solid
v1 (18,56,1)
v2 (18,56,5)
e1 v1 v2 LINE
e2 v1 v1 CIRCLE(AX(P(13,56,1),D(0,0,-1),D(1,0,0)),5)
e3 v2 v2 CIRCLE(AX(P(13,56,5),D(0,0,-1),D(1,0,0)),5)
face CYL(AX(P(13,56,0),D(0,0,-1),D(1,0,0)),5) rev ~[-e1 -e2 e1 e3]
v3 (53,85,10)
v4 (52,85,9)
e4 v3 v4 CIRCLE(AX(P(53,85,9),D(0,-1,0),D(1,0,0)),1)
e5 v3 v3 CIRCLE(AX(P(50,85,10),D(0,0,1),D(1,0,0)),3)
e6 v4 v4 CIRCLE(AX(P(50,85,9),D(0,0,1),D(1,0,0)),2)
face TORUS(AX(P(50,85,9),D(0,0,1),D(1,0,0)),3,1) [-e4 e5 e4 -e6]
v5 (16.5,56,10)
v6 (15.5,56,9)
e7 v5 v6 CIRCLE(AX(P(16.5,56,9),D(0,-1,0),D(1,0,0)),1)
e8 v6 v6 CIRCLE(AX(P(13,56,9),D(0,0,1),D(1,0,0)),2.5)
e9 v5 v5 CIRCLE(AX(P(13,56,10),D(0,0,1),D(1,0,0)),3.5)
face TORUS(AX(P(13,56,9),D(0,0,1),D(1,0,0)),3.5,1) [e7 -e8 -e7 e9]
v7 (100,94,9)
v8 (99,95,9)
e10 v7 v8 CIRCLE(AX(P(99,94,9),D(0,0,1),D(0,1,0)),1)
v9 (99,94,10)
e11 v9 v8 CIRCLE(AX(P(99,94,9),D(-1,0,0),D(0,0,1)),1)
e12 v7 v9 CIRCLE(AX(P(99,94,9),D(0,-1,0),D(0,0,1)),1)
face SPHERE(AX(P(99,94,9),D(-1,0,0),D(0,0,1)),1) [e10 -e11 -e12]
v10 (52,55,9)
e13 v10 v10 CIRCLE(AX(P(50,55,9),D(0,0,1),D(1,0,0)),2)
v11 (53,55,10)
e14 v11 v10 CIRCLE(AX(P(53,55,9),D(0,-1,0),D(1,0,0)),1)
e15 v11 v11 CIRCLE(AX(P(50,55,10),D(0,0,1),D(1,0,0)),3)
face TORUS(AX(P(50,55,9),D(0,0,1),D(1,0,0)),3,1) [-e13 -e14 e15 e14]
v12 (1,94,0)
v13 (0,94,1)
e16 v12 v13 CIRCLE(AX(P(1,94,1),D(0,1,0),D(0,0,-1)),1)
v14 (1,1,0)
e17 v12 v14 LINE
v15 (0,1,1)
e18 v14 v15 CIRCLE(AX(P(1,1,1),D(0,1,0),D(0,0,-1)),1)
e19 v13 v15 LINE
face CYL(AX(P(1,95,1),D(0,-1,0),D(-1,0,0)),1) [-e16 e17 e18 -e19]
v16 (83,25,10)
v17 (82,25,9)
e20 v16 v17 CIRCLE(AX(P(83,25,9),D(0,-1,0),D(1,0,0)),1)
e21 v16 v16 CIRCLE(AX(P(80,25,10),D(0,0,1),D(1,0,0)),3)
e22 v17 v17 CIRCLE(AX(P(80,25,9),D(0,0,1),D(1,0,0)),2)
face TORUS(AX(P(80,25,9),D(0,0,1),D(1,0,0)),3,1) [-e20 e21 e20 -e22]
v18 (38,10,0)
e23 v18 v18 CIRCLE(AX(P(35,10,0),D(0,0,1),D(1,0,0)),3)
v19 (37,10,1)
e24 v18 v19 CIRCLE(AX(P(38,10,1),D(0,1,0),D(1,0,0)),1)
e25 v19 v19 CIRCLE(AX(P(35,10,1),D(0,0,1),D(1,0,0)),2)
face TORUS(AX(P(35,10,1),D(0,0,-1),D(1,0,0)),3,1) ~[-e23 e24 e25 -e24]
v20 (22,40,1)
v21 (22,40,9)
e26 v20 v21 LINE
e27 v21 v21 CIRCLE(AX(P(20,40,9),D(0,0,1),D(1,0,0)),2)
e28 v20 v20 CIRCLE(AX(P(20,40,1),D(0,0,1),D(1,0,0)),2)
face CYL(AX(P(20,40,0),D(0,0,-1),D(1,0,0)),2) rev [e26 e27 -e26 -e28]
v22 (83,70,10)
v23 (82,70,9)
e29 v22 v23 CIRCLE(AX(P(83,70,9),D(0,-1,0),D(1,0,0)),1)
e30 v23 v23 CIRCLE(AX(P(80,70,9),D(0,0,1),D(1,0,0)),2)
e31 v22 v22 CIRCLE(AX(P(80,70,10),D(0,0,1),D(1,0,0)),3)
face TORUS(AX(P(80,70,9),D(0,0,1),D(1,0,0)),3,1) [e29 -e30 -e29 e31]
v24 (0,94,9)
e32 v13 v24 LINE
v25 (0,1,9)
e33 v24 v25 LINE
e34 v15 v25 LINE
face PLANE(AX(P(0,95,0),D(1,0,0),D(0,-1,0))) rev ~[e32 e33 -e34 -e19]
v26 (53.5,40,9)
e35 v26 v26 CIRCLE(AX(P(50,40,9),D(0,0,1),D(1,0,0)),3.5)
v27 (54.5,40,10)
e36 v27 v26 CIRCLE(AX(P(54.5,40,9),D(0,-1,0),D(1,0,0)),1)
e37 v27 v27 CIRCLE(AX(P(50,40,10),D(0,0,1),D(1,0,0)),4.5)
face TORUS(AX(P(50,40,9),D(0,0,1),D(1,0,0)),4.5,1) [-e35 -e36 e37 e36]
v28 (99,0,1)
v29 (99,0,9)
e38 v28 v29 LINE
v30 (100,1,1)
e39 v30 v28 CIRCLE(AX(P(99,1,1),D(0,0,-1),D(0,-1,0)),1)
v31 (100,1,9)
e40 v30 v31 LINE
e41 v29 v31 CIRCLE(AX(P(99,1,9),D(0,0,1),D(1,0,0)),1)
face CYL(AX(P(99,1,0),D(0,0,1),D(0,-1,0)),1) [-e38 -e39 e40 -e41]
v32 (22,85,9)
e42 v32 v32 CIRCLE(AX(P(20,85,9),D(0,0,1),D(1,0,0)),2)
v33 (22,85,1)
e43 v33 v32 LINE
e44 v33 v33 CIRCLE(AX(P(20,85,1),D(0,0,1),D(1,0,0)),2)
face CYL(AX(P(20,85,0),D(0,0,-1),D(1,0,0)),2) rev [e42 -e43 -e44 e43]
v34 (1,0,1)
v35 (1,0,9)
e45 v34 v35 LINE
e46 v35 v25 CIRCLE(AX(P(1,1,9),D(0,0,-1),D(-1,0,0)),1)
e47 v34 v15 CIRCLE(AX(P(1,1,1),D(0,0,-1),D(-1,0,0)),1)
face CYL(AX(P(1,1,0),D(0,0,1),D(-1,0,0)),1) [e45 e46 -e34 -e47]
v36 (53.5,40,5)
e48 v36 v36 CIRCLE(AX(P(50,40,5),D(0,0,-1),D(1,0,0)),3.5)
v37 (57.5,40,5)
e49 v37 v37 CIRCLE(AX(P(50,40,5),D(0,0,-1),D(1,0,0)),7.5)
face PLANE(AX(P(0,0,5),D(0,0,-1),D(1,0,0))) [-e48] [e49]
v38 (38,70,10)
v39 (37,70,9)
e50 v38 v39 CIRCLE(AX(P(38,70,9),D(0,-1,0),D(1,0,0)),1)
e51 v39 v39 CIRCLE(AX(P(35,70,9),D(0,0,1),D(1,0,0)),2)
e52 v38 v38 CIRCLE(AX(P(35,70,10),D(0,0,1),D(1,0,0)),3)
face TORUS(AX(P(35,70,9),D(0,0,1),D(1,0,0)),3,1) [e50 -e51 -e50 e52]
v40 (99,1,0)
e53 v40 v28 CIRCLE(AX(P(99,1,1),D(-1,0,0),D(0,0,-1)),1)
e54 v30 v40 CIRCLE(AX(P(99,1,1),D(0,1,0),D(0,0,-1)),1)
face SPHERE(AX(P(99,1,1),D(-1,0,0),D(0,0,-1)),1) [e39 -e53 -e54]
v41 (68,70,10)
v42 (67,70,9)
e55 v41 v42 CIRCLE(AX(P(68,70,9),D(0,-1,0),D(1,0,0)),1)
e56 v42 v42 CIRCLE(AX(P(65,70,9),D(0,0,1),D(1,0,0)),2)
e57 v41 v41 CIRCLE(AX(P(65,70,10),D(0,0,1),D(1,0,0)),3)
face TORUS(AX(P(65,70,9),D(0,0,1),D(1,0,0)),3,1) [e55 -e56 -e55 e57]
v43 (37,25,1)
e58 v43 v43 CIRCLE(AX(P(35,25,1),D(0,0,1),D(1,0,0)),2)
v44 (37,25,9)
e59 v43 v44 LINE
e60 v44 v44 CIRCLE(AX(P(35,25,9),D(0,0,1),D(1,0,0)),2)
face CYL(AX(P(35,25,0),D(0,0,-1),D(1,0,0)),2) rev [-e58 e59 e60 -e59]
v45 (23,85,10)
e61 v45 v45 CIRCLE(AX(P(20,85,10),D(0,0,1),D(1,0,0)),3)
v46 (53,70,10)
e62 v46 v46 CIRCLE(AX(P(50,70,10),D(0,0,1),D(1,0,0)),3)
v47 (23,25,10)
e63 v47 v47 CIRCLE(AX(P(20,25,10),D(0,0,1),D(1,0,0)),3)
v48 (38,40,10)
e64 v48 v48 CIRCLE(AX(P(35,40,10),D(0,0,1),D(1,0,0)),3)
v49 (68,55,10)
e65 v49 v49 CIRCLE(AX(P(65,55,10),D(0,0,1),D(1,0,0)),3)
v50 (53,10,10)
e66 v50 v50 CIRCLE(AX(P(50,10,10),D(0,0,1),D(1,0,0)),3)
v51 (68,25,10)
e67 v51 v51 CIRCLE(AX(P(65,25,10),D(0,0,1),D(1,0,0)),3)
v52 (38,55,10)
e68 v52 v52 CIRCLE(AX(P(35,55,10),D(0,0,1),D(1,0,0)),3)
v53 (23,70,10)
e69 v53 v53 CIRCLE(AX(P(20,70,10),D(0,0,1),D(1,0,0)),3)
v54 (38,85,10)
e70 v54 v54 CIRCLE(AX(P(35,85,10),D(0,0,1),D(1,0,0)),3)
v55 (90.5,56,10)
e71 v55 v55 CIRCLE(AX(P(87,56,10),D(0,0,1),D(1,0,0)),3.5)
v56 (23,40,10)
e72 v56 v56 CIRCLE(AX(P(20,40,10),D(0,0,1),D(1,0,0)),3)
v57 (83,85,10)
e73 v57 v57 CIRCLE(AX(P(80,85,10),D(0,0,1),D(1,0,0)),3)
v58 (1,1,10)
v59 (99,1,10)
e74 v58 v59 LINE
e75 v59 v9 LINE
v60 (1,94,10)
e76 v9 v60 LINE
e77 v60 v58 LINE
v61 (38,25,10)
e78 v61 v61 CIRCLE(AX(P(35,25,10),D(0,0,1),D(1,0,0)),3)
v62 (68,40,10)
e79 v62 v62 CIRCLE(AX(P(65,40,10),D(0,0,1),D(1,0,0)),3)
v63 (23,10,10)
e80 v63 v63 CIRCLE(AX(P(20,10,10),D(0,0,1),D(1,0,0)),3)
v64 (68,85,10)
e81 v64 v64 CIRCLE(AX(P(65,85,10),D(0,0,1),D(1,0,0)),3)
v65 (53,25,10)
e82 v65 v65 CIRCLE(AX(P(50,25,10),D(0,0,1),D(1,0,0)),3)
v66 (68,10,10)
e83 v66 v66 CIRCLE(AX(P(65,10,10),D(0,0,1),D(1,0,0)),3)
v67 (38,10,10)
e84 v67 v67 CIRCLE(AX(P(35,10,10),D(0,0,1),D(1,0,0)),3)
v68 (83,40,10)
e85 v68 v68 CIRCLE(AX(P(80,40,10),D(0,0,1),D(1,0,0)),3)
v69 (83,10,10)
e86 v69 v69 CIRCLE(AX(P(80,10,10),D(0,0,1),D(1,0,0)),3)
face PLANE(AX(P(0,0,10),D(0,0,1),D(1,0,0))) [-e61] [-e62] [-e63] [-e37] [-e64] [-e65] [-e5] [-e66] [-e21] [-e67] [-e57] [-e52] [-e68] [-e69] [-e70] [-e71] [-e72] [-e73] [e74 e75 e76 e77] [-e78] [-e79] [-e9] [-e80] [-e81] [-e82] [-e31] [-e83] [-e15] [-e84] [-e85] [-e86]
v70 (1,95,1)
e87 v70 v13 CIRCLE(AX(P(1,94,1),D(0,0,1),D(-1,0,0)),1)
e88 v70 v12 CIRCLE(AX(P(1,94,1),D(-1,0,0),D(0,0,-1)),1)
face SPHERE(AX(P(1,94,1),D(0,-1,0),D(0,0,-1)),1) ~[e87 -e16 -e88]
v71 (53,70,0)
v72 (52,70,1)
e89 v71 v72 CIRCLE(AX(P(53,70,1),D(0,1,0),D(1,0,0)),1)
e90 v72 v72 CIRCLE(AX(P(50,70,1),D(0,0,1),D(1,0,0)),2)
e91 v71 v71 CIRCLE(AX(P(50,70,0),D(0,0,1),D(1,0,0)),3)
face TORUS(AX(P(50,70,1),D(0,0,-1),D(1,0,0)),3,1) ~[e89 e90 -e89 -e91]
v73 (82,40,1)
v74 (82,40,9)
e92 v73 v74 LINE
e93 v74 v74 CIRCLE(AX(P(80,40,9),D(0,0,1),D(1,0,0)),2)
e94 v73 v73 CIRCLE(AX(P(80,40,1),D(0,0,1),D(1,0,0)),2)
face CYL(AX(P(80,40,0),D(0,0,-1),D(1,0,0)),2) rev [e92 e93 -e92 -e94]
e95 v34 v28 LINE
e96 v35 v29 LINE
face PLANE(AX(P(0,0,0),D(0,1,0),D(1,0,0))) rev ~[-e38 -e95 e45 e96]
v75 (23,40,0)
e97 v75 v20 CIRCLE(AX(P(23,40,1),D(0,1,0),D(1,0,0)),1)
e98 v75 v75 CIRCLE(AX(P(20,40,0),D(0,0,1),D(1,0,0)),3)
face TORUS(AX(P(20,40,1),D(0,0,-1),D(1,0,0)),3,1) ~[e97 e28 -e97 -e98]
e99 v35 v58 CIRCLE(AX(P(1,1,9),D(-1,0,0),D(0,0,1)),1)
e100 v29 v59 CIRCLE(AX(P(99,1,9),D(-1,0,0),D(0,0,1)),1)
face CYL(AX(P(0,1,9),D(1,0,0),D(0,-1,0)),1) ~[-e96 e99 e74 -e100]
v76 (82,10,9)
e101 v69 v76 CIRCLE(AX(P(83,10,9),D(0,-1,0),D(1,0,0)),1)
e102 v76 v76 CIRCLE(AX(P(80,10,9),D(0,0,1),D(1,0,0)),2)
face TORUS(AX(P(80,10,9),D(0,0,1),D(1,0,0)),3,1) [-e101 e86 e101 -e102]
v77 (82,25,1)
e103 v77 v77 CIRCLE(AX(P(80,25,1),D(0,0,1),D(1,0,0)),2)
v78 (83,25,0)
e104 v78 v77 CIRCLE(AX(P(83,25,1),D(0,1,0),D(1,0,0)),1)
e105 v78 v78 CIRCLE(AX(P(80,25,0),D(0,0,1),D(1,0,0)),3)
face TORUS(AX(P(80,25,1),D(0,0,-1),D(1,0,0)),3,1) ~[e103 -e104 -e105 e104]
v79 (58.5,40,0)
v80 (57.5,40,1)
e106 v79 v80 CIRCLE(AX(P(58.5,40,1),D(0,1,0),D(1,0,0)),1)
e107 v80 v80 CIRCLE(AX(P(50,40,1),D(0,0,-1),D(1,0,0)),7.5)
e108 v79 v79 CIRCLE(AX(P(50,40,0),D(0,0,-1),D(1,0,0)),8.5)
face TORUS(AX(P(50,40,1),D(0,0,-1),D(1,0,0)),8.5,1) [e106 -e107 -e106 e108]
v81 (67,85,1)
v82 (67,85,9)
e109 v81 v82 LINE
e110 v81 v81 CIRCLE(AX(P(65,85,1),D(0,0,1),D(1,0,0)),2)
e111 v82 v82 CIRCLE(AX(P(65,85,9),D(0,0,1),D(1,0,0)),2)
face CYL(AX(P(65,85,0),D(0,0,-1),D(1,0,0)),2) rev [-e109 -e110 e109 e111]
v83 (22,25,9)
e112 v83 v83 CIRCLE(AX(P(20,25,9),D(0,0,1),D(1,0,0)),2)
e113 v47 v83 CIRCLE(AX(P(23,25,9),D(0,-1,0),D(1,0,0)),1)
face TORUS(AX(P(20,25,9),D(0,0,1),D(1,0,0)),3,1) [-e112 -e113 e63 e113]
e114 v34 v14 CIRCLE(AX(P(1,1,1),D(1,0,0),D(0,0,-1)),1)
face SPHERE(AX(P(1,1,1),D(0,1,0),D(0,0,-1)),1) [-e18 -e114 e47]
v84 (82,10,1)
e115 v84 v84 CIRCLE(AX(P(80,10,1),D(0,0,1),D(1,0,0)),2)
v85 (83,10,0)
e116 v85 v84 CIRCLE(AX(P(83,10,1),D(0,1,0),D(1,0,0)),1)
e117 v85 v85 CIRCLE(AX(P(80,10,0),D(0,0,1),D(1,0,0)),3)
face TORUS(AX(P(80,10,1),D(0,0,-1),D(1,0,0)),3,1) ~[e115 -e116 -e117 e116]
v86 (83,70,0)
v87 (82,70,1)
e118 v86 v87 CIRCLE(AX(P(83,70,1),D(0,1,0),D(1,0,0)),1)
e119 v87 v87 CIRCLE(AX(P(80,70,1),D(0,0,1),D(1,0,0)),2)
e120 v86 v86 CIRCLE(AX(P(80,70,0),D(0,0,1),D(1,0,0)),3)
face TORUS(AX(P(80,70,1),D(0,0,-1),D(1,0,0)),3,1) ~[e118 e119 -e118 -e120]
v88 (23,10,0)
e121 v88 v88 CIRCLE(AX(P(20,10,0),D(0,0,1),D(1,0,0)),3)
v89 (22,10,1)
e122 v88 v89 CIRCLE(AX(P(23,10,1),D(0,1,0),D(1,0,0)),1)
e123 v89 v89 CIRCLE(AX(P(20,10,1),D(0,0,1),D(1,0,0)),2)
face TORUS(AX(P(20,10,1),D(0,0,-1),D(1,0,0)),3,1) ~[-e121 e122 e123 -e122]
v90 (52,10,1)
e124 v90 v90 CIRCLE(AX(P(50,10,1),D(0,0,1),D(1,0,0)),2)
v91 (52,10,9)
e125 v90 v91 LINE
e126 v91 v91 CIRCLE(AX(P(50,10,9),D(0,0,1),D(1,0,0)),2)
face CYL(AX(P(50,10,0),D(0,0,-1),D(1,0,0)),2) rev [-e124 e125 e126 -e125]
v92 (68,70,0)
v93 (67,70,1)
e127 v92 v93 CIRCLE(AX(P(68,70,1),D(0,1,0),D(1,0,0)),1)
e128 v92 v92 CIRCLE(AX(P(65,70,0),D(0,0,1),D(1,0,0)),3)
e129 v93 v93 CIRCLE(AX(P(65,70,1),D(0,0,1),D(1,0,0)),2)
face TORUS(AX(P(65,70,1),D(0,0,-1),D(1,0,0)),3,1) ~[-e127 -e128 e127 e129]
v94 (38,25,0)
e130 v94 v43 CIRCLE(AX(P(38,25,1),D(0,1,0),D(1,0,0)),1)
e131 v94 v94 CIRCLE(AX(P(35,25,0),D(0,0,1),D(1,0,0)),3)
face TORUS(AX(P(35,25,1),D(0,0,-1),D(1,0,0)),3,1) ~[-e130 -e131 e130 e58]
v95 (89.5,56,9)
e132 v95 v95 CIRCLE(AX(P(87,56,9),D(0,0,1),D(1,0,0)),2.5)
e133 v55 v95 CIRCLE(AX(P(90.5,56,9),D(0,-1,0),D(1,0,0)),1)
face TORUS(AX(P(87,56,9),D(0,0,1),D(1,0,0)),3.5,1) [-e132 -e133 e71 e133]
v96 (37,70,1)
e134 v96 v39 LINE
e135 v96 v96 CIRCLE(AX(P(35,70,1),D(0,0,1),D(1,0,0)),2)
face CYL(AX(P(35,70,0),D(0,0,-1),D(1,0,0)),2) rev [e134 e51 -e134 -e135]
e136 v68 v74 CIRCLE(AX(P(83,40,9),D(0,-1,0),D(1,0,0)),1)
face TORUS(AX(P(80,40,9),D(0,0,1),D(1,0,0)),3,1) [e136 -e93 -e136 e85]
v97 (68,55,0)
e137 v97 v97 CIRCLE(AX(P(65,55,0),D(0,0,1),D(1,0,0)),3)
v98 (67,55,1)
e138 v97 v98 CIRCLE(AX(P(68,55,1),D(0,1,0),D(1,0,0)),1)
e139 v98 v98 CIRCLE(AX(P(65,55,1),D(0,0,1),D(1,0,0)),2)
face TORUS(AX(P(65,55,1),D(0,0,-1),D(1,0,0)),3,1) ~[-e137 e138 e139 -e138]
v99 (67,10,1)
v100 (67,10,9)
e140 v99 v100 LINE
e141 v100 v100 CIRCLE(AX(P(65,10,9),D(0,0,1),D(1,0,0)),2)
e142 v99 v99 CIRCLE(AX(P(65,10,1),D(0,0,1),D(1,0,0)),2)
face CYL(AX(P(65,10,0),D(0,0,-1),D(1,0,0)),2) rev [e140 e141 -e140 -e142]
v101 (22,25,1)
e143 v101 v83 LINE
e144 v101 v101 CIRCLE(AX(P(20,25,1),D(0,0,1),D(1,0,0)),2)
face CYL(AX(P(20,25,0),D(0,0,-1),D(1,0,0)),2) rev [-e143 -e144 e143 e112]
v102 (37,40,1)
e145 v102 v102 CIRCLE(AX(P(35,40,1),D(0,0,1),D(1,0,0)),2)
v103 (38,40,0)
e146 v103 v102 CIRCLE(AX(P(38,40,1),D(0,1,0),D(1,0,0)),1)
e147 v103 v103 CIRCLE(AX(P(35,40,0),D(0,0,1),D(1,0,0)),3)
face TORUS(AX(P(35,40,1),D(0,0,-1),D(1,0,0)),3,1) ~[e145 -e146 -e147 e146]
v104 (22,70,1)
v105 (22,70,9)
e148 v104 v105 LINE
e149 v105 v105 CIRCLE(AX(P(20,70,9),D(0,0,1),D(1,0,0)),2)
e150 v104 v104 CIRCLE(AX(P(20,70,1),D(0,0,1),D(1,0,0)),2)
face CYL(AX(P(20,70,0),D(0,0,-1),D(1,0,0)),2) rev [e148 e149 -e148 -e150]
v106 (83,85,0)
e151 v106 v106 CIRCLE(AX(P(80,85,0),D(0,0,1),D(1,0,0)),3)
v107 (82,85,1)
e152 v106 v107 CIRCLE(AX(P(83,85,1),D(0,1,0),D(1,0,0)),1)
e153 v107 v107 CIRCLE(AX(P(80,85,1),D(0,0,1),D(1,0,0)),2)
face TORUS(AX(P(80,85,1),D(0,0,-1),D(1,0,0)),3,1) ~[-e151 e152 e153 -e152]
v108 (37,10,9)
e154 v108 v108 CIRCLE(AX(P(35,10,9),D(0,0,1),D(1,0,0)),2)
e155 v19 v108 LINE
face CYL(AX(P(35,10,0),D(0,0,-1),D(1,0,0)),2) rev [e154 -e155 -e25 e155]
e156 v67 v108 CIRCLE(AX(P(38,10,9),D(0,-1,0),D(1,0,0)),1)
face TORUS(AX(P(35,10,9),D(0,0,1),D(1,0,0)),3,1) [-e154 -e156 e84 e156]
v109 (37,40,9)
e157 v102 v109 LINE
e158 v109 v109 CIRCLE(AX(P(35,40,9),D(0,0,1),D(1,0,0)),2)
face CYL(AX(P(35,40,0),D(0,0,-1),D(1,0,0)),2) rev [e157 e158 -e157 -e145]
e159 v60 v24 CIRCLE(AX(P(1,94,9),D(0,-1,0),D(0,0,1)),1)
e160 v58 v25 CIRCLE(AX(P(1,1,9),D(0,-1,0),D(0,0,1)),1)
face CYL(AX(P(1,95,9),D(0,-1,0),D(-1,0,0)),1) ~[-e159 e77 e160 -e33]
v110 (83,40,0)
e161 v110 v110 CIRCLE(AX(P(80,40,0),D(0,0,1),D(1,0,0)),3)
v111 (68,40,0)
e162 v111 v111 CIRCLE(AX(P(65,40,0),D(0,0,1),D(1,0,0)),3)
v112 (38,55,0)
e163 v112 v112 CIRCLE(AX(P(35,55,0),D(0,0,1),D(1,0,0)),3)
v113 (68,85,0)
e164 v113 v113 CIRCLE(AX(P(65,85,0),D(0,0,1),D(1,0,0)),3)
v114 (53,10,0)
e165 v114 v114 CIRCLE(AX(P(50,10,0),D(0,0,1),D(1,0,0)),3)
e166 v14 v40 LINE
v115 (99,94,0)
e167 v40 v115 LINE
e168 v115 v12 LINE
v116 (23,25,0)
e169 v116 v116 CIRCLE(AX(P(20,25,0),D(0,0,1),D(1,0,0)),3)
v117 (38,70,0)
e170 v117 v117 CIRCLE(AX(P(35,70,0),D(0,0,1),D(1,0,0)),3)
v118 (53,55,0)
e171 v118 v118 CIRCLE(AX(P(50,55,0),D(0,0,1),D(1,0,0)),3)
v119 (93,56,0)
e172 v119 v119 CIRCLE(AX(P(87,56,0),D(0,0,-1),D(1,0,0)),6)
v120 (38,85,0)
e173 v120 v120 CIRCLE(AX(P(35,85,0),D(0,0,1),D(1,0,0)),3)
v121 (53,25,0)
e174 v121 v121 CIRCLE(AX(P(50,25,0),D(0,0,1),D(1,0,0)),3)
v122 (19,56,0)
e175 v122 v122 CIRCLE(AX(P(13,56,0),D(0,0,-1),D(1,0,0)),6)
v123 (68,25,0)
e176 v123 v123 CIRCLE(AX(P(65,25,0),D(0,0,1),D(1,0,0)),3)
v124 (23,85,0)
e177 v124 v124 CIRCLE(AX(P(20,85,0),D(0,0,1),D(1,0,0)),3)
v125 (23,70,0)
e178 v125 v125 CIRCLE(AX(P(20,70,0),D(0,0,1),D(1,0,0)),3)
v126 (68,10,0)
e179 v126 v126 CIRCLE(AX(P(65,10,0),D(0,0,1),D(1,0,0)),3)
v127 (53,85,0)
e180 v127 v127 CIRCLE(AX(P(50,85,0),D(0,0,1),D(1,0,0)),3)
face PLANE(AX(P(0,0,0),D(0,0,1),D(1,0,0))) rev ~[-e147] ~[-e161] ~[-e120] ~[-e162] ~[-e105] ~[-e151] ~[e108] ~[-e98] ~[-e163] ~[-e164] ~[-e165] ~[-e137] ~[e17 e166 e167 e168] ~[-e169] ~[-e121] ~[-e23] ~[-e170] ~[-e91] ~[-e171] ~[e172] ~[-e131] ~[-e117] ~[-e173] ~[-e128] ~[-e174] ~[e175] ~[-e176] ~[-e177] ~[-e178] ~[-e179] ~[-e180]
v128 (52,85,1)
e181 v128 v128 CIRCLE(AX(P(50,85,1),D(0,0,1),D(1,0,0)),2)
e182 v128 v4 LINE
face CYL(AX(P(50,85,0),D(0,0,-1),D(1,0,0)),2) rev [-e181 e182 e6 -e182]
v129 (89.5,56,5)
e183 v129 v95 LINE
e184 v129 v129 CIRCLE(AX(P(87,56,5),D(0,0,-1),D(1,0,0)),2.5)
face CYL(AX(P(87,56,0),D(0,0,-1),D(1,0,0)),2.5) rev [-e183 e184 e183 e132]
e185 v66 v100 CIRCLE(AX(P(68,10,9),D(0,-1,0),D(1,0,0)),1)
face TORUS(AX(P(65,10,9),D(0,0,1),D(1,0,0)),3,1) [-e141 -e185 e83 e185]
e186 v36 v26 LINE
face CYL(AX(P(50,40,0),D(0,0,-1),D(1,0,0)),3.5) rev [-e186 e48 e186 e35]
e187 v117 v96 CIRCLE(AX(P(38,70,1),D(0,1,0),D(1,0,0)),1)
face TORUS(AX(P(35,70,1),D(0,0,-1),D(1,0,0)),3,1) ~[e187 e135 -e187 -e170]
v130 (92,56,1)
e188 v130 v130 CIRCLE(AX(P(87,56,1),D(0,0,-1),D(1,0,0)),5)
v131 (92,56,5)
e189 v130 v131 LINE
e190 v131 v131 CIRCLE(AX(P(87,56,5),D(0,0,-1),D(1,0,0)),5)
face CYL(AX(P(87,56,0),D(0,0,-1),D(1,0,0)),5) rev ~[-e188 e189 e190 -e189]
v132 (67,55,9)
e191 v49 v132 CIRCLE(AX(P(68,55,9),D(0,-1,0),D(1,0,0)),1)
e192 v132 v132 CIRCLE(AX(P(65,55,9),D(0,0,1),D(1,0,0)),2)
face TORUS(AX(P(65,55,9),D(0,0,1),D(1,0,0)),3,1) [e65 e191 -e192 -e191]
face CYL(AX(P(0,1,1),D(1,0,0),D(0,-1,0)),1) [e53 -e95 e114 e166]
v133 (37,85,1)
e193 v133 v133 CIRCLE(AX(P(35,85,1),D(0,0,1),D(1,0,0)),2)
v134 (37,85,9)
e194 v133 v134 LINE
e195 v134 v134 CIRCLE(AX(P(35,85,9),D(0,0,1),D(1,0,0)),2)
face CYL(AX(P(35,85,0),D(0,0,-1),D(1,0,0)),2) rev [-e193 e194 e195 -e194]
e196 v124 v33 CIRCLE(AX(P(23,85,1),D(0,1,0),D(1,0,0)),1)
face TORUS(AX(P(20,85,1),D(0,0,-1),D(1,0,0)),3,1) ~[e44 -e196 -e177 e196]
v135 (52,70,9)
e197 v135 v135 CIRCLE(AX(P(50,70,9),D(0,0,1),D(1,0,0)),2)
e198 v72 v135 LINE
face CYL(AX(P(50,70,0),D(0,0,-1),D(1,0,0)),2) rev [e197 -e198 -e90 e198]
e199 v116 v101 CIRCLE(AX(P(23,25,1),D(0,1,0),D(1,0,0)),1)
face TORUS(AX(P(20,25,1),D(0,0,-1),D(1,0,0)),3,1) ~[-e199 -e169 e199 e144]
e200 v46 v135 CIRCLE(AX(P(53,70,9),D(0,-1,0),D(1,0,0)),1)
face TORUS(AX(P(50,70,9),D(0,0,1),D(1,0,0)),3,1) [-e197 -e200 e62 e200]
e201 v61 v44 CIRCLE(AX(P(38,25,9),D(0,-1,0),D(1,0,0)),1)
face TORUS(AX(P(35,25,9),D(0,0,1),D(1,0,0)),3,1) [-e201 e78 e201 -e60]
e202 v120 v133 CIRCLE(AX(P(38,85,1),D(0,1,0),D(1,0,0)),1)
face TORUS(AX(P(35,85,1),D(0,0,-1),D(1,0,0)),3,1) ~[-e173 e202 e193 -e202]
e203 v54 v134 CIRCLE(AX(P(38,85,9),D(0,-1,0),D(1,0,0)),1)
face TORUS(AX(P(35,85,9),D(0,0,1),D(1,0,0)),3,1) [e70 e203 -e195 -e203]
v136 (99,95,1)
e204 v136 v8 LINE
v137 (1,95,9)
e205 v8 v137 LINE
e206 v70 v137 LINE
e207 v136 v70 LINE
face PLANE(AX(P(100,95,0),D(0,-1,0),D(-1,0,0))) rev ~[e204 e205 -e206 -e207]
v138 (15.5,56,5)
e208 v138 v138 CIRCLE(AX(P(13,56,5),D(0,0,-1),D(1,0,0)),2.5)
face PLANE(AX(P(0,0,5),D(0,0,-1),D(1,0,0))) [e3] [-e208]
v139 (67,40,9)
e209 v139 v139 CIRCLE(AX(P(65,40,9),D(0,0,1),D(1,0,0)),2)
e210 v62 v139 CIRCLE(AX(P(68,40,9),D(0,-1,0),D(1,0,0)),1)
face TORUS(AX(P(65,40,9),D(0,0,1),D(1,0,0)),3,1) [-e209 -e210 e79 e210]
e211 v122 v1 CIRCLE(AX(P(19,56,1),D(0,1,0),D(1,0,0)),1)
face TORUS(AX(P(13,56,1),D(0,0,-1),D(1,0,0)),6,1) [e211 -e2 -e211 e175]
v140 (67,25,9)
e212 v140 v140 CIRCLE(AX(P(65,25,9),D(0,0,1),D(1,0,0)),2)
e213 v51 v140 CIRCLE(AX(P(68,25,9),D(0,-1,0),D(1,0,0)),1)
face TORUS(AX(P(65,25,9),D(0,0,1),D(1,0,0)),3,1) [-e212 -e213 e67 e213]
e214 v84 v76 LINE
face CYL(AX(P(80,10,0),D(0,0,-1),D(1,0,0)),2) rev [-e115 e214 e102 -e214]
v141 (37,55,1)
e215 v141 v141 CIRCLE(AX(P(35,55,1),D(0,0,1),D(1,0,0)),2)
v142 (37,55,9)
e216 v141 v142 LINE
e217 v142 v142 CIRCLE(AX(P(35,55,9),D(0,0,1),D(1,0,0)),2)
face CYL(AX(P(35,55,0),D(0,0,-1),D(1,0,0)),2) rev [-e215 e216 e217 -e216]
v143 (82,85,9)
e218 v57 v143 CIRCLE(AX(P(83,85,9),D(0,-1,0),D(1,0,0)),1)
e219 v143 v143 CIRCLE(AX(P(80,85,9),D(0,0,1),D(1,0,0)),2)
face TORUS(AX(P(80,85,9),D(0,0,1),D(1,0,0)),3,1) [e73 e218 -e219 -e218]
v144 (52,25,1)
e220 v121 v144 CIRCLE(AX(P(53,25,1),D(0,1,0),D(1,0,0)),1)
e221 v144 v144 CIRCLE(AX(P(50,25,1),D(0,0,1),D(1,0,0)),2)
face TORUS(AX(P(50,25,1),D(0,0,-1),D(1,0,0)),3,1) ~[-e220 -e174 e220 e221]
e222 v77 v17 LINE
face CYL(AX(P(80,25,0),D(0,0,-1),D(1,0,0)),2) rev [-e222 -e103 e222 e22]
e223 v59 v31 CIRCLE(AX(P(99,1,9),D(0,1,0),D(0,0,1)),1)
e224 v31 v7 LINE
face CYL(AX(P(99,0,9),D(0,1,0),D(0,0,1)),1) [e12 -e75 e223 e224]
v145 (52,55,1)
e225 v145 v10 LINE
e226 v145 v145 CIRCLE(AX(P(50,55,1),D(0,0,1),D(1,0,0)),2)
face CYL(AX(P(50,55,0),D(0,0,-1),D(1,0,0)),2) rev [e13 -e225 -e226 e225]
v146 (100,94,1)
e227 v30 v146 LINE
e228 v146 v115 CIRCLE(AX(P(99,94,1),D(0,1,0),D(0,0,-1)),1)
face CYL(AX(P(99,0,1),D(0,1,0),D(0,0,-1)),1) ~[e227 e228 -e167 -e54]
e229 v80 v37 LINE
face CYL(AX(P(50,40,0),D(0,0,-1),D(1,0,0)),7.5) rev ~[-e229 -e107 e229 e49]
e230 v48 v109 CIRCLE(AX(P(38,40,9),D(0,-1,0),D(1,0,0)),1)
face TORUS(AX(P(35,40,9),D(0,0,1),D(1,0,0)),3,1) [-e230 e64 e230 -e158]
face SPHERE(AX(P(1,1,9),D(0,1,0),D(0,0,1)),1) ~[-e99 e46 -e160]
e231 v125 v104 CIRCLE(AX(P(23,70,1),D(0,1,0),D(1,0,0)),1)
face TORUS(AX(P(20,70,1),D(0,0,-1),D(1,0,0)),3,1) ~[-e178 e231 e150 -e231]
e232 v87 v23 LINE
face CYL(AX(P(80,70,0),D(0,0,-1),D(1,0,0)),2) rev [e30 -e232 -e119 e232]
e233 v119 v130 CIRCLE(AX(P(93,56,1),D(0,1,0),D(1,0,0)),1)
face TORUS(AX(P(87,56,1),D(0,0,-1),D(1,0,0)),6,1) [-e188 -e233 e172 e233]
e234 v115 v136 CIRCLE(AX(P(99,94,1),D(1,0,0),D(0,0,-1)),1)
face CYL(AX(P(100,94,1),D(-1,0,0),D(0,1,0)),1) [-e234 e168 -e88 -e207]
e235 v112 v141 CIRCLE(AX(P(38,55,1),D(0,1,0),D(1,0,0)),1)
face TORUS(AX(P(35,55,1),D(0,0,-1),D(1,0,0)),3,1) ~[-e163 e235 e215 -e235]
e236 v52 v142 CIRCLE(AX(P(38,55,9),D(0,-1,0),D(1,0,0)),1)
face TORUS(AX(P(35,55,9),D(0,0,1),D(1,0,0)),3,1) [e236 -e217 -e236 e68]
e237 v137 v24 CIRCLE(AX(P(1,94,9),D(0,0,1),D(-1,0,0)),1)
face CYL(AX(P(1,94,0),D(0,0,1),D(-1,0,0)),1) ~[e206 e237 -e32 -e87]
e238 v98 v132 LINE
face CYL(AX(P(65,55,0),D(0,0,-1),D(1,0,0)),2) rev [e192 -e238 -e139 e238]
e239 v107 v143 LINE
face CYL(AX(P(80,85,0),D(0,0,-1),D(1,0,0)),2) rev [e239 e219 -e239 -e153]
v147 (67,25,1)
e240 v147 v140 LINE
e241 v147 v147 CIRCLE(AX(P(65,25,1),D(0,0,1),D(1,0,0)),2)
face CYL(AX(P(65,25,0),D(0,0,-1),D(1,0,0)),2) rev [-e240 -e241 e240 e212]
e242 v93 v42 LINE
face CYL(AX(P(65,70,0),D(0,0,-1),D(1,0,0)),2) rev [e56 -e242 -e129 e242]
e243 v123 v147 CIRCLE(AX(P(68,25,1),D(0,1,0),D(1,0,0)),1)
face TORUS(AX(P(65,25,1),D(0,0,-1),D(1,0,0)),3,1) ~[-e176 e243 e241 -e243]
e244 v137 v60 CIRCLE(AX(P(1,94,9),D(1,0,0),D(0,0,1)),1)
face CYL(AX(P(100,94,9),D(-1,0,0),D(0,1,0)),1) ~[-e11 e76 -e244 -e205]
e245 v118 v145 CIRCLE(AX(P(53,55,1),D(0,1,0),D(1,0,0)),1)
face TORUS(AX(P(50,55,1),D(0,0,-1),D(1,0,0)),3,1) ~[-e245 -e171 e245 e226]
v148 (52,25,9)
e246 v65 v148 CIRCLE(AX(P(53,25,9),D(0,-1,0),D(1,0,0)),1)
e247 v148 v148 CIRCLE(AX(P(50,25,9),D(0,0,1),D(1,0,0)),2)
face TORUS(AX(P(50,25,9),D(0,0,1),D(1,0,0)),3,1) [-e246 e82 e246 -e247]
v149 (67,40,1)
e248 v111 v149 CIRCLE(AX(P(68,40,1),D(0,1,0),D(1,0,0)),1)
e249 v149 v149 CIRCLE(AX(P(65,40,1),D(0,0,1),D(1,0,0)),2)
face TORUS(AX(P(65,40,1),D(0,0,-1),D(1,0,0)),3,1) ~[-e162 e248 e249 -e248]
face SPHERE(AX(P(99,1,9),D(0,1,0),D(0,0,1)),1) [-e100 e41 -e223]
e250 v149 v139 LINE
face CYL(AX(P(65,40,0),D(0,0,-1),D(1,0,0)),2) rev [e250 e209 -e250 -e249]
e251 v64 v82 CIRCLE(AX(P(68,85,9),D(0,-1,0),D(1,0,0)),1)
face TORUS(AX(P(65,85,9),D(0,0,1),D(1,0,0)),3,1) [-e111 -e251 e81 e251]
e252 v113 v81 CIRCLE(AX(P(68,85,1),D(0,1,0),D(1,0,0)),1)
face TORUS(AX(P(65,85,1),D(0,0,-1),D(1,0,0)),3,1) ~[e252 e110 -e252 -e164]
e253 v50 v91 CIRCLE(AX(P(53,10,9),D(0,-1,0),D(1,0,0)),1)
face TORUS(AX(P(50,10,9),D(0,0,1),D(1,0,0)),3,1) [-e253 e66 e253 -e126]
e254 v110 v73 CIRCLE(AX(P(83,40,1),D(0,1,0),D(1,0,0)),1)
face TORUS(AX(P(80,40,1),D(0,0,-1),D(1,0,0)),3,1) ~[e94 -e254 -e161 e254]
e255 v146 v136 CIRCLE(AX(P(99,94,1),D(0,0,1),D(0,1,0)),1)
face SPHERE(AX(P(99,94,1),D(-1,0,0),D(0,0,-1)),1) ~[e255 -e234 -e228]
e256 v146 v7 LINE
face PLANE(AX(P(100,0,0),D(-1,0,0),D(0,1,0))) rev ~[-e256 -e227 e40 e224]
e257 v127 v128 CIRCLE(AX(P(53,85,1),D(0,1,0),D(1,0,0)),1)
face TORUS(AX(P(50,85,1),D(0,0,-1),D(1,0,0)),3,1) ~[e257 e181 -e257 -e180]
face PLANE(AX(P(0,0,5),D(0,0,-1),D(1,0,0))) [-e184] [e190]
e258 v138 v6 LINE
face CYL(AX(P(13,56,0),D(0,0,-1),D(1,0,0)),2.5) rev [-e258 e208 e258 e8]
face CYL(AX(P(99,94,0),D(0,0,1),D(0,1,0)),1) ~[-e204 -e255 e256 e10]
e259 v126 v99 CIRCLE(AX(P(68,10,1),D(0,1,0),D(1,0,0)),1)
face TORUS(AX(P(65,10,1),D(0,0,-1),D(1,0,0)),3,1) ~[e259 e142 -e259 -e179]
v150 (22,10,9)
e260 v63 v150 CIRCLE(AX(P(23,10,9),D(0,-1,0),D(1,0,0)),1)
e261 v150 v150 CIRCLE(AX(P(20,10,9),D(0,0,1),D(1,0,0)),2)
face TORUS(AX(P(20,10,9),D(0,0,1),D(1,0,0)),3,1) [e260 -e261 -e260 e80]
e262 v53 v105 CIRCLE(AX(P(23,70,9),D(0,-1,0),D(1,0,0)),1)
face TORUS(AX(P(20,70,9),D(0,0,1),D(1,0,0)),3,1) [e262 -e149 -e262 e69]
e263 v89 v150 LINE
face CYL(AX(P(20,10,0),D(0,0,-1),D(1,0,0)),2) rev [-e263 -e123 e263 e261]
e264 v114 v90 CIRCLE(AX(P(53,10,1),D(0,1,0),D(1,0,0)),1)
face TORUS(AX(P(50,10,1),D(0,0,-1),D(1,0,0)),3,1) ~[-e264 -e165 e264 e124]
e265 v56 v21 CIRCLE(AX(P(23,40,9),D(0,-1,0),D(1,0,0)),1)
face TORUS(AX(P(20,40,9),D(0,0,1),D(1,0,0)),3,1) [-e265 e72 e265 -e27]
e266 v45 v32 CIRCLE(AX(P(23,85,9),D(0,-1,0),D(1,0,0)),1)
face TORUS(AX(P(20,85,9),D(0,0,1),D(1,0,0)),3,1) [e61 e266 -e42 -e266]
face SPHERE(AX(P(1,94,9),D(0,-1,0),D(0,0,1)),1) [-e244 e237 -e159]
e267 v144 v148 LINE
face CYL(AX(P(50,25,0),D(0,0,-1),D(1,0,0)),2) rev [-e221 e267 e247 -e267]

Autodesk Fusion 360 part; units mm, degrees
sketch "Sketch1" plane through (0, 0, 0) normal (0, 0, 1) x (1, 0, 0)
  line L0 (0, 0) -> (100, 0)
  line L1 (100, 0) -> (100, 95)
  line L2 (100, 95) -> (0, 95)
  line L3 (0, 95) -> (0, 0)
  circle A0 centre (20, 85) radius 2
  line L4 (50, 95) -> (50, 0) construction
  line L5 (0, 47.5) -> (100, 47.5) construction
  circle A1 centre (35, 85) radius 2
  circle A2 centre (50, 85) radius 2
  circle A3 centre (65, 85) radius 2
  circle A4 centre (80, 85) radius 2
  circle A5 centre (20, 70) radius 2
  circle A6 centre (35, 70) radius 2
  circle A7 centre (50, 70) radius 2
  circle A8 centre (65, 70) radius 2
  circle A9 centre (80, 70) radius 2
  circle A10 centre (35, 55) radius 2
  circle A11 centre (50, 55) radius 2
  circle A12 centre (65, 55) radius 2
  circle A13 centre (20, 40) radius 2
  circle A14 centre (35, 40) radius 2
  circle A15 centre (65, 40) radius 2
  circle A16 centre (80, 40) radius 2
  circle A17 centre (20, 25) radius 2
  circle A18 centre (35, 25) radius 2
  circle A19 centre (50, 25) radius 2
  circle A20 centre (65, 25) radius 2
  circle A21 centre (80, 25) radius 2
  circle A22 centre (20, 10) radius 2
  circle A23 centre (35, 10) radius 2
  circle A24 centre (50, 10) radius 2
  circle A25 centre (65, 10) radius 2
  circle A26 centre (80, 10) radius 2
  circle A27 centre (13, 56) radius 2.5
  circle A28 centre (87, 56) radius 2.5
  circle A29 centre (50, 40) radius 3.5
  dimension "d1" = 100
  dimension "d2" = 95
  dimension "d3" = 4
  dimension "d10" = 60
  dimension "d11" = -75
  dimension "d12" = 10
  dimension "d13" = 20
  dimension "d14" = 5
  dimension "d15" = 5
  dimension "d16" = 7
  dimension "d17" = 16
  dimension "d18" = 74
  dimension "d19" = 37
extrude "Extrude1" add sketch "Sketch1" along normal blind 10
sketch "Sketch2" plane through (0, 0, 0) normal (0, 0, -1) x (1, 0, 0)
  circle A0 centre (35, -85) radius 2
  circle A1 centre (50, -55) radius 2
  circle A2 centre (20, -85) radius 2
  circle A3 centre (80, -85) radius 2
  circle A4 centre (65, -85) radius 2
  circle A5 centre (50, -85) radius 2
  circle A6 centre (35, -55) radius 2
  circle A7 centre (80, -70) radius 2
  circle A8 centre (65, -70) radius 2
  circle A9 centre (50, -70) radius 2
  circle A10 centre (35, -70) radius 2
  circle A11 centre (20, -70) radius 2
  circle A12 centre (65, -55) radius 2
  circle A13 centre (20, -40) radius 2
  circle A14 centre (35, -40) radius 2
  circle A15 centre (65, -40) radius 2
  circle A16 centre (80, -40) radius 2
  circle A17 centre (20, -25) radius 2
  circle A18 centre (35, -25) radius 2
  circle A19 centre (50, -25) radius 2
  circle A20 centre (65, -25) radius 2
  circle A21 centre (80, -25) radius 2
  circle A22 centre (20, -10) radius 2
  circle A23 centre (35, -10) radius 2
  circle A24 centre (50, -10) radius 2
  circle A25 centre (65, -10) radius 2
  circle A26 centre (80, -10) radius 2
  circle A27 centre (13, -56) radius 2.5
  circle A28 centre (87, -56) radius 2.5
  circle A29 centre (50, -40) radius 3.5
  line L0 (0, 0) -> (0, -95)
  line L1 (0, -95) -> (100, -95)
  line L2 (100, -95) -> (100, 0)
  line L3 (100, 0) -> (0, 0)
  circle A30 centre (50, -40) radius 7.5
  circle A31 centre (87, -56) radius 5
  circle A32 centre (13, -56) radius 5
  dimension "d22" = 10
  dimension "d23" = 10
  dimension "d24" = 15
extrude "Extrude2" cut sketch "Sketch2" against normal blind 5 contours A30 | A31 | A32
fillet "Fillet1" radius 1 1 edges at (8.3384, 54.1919, 0) 6 faces at (90.881, 25.9657, 0) (90.3478, 26.6299, 10) (33.3333, 0, 3.3333) (100, 31.6667, 3.3333) (66.6667, 95, 3.3333) (0, 63.3333, 3.3333)
equation "d19 = ( 74 / 2 ) * 1 mm"
